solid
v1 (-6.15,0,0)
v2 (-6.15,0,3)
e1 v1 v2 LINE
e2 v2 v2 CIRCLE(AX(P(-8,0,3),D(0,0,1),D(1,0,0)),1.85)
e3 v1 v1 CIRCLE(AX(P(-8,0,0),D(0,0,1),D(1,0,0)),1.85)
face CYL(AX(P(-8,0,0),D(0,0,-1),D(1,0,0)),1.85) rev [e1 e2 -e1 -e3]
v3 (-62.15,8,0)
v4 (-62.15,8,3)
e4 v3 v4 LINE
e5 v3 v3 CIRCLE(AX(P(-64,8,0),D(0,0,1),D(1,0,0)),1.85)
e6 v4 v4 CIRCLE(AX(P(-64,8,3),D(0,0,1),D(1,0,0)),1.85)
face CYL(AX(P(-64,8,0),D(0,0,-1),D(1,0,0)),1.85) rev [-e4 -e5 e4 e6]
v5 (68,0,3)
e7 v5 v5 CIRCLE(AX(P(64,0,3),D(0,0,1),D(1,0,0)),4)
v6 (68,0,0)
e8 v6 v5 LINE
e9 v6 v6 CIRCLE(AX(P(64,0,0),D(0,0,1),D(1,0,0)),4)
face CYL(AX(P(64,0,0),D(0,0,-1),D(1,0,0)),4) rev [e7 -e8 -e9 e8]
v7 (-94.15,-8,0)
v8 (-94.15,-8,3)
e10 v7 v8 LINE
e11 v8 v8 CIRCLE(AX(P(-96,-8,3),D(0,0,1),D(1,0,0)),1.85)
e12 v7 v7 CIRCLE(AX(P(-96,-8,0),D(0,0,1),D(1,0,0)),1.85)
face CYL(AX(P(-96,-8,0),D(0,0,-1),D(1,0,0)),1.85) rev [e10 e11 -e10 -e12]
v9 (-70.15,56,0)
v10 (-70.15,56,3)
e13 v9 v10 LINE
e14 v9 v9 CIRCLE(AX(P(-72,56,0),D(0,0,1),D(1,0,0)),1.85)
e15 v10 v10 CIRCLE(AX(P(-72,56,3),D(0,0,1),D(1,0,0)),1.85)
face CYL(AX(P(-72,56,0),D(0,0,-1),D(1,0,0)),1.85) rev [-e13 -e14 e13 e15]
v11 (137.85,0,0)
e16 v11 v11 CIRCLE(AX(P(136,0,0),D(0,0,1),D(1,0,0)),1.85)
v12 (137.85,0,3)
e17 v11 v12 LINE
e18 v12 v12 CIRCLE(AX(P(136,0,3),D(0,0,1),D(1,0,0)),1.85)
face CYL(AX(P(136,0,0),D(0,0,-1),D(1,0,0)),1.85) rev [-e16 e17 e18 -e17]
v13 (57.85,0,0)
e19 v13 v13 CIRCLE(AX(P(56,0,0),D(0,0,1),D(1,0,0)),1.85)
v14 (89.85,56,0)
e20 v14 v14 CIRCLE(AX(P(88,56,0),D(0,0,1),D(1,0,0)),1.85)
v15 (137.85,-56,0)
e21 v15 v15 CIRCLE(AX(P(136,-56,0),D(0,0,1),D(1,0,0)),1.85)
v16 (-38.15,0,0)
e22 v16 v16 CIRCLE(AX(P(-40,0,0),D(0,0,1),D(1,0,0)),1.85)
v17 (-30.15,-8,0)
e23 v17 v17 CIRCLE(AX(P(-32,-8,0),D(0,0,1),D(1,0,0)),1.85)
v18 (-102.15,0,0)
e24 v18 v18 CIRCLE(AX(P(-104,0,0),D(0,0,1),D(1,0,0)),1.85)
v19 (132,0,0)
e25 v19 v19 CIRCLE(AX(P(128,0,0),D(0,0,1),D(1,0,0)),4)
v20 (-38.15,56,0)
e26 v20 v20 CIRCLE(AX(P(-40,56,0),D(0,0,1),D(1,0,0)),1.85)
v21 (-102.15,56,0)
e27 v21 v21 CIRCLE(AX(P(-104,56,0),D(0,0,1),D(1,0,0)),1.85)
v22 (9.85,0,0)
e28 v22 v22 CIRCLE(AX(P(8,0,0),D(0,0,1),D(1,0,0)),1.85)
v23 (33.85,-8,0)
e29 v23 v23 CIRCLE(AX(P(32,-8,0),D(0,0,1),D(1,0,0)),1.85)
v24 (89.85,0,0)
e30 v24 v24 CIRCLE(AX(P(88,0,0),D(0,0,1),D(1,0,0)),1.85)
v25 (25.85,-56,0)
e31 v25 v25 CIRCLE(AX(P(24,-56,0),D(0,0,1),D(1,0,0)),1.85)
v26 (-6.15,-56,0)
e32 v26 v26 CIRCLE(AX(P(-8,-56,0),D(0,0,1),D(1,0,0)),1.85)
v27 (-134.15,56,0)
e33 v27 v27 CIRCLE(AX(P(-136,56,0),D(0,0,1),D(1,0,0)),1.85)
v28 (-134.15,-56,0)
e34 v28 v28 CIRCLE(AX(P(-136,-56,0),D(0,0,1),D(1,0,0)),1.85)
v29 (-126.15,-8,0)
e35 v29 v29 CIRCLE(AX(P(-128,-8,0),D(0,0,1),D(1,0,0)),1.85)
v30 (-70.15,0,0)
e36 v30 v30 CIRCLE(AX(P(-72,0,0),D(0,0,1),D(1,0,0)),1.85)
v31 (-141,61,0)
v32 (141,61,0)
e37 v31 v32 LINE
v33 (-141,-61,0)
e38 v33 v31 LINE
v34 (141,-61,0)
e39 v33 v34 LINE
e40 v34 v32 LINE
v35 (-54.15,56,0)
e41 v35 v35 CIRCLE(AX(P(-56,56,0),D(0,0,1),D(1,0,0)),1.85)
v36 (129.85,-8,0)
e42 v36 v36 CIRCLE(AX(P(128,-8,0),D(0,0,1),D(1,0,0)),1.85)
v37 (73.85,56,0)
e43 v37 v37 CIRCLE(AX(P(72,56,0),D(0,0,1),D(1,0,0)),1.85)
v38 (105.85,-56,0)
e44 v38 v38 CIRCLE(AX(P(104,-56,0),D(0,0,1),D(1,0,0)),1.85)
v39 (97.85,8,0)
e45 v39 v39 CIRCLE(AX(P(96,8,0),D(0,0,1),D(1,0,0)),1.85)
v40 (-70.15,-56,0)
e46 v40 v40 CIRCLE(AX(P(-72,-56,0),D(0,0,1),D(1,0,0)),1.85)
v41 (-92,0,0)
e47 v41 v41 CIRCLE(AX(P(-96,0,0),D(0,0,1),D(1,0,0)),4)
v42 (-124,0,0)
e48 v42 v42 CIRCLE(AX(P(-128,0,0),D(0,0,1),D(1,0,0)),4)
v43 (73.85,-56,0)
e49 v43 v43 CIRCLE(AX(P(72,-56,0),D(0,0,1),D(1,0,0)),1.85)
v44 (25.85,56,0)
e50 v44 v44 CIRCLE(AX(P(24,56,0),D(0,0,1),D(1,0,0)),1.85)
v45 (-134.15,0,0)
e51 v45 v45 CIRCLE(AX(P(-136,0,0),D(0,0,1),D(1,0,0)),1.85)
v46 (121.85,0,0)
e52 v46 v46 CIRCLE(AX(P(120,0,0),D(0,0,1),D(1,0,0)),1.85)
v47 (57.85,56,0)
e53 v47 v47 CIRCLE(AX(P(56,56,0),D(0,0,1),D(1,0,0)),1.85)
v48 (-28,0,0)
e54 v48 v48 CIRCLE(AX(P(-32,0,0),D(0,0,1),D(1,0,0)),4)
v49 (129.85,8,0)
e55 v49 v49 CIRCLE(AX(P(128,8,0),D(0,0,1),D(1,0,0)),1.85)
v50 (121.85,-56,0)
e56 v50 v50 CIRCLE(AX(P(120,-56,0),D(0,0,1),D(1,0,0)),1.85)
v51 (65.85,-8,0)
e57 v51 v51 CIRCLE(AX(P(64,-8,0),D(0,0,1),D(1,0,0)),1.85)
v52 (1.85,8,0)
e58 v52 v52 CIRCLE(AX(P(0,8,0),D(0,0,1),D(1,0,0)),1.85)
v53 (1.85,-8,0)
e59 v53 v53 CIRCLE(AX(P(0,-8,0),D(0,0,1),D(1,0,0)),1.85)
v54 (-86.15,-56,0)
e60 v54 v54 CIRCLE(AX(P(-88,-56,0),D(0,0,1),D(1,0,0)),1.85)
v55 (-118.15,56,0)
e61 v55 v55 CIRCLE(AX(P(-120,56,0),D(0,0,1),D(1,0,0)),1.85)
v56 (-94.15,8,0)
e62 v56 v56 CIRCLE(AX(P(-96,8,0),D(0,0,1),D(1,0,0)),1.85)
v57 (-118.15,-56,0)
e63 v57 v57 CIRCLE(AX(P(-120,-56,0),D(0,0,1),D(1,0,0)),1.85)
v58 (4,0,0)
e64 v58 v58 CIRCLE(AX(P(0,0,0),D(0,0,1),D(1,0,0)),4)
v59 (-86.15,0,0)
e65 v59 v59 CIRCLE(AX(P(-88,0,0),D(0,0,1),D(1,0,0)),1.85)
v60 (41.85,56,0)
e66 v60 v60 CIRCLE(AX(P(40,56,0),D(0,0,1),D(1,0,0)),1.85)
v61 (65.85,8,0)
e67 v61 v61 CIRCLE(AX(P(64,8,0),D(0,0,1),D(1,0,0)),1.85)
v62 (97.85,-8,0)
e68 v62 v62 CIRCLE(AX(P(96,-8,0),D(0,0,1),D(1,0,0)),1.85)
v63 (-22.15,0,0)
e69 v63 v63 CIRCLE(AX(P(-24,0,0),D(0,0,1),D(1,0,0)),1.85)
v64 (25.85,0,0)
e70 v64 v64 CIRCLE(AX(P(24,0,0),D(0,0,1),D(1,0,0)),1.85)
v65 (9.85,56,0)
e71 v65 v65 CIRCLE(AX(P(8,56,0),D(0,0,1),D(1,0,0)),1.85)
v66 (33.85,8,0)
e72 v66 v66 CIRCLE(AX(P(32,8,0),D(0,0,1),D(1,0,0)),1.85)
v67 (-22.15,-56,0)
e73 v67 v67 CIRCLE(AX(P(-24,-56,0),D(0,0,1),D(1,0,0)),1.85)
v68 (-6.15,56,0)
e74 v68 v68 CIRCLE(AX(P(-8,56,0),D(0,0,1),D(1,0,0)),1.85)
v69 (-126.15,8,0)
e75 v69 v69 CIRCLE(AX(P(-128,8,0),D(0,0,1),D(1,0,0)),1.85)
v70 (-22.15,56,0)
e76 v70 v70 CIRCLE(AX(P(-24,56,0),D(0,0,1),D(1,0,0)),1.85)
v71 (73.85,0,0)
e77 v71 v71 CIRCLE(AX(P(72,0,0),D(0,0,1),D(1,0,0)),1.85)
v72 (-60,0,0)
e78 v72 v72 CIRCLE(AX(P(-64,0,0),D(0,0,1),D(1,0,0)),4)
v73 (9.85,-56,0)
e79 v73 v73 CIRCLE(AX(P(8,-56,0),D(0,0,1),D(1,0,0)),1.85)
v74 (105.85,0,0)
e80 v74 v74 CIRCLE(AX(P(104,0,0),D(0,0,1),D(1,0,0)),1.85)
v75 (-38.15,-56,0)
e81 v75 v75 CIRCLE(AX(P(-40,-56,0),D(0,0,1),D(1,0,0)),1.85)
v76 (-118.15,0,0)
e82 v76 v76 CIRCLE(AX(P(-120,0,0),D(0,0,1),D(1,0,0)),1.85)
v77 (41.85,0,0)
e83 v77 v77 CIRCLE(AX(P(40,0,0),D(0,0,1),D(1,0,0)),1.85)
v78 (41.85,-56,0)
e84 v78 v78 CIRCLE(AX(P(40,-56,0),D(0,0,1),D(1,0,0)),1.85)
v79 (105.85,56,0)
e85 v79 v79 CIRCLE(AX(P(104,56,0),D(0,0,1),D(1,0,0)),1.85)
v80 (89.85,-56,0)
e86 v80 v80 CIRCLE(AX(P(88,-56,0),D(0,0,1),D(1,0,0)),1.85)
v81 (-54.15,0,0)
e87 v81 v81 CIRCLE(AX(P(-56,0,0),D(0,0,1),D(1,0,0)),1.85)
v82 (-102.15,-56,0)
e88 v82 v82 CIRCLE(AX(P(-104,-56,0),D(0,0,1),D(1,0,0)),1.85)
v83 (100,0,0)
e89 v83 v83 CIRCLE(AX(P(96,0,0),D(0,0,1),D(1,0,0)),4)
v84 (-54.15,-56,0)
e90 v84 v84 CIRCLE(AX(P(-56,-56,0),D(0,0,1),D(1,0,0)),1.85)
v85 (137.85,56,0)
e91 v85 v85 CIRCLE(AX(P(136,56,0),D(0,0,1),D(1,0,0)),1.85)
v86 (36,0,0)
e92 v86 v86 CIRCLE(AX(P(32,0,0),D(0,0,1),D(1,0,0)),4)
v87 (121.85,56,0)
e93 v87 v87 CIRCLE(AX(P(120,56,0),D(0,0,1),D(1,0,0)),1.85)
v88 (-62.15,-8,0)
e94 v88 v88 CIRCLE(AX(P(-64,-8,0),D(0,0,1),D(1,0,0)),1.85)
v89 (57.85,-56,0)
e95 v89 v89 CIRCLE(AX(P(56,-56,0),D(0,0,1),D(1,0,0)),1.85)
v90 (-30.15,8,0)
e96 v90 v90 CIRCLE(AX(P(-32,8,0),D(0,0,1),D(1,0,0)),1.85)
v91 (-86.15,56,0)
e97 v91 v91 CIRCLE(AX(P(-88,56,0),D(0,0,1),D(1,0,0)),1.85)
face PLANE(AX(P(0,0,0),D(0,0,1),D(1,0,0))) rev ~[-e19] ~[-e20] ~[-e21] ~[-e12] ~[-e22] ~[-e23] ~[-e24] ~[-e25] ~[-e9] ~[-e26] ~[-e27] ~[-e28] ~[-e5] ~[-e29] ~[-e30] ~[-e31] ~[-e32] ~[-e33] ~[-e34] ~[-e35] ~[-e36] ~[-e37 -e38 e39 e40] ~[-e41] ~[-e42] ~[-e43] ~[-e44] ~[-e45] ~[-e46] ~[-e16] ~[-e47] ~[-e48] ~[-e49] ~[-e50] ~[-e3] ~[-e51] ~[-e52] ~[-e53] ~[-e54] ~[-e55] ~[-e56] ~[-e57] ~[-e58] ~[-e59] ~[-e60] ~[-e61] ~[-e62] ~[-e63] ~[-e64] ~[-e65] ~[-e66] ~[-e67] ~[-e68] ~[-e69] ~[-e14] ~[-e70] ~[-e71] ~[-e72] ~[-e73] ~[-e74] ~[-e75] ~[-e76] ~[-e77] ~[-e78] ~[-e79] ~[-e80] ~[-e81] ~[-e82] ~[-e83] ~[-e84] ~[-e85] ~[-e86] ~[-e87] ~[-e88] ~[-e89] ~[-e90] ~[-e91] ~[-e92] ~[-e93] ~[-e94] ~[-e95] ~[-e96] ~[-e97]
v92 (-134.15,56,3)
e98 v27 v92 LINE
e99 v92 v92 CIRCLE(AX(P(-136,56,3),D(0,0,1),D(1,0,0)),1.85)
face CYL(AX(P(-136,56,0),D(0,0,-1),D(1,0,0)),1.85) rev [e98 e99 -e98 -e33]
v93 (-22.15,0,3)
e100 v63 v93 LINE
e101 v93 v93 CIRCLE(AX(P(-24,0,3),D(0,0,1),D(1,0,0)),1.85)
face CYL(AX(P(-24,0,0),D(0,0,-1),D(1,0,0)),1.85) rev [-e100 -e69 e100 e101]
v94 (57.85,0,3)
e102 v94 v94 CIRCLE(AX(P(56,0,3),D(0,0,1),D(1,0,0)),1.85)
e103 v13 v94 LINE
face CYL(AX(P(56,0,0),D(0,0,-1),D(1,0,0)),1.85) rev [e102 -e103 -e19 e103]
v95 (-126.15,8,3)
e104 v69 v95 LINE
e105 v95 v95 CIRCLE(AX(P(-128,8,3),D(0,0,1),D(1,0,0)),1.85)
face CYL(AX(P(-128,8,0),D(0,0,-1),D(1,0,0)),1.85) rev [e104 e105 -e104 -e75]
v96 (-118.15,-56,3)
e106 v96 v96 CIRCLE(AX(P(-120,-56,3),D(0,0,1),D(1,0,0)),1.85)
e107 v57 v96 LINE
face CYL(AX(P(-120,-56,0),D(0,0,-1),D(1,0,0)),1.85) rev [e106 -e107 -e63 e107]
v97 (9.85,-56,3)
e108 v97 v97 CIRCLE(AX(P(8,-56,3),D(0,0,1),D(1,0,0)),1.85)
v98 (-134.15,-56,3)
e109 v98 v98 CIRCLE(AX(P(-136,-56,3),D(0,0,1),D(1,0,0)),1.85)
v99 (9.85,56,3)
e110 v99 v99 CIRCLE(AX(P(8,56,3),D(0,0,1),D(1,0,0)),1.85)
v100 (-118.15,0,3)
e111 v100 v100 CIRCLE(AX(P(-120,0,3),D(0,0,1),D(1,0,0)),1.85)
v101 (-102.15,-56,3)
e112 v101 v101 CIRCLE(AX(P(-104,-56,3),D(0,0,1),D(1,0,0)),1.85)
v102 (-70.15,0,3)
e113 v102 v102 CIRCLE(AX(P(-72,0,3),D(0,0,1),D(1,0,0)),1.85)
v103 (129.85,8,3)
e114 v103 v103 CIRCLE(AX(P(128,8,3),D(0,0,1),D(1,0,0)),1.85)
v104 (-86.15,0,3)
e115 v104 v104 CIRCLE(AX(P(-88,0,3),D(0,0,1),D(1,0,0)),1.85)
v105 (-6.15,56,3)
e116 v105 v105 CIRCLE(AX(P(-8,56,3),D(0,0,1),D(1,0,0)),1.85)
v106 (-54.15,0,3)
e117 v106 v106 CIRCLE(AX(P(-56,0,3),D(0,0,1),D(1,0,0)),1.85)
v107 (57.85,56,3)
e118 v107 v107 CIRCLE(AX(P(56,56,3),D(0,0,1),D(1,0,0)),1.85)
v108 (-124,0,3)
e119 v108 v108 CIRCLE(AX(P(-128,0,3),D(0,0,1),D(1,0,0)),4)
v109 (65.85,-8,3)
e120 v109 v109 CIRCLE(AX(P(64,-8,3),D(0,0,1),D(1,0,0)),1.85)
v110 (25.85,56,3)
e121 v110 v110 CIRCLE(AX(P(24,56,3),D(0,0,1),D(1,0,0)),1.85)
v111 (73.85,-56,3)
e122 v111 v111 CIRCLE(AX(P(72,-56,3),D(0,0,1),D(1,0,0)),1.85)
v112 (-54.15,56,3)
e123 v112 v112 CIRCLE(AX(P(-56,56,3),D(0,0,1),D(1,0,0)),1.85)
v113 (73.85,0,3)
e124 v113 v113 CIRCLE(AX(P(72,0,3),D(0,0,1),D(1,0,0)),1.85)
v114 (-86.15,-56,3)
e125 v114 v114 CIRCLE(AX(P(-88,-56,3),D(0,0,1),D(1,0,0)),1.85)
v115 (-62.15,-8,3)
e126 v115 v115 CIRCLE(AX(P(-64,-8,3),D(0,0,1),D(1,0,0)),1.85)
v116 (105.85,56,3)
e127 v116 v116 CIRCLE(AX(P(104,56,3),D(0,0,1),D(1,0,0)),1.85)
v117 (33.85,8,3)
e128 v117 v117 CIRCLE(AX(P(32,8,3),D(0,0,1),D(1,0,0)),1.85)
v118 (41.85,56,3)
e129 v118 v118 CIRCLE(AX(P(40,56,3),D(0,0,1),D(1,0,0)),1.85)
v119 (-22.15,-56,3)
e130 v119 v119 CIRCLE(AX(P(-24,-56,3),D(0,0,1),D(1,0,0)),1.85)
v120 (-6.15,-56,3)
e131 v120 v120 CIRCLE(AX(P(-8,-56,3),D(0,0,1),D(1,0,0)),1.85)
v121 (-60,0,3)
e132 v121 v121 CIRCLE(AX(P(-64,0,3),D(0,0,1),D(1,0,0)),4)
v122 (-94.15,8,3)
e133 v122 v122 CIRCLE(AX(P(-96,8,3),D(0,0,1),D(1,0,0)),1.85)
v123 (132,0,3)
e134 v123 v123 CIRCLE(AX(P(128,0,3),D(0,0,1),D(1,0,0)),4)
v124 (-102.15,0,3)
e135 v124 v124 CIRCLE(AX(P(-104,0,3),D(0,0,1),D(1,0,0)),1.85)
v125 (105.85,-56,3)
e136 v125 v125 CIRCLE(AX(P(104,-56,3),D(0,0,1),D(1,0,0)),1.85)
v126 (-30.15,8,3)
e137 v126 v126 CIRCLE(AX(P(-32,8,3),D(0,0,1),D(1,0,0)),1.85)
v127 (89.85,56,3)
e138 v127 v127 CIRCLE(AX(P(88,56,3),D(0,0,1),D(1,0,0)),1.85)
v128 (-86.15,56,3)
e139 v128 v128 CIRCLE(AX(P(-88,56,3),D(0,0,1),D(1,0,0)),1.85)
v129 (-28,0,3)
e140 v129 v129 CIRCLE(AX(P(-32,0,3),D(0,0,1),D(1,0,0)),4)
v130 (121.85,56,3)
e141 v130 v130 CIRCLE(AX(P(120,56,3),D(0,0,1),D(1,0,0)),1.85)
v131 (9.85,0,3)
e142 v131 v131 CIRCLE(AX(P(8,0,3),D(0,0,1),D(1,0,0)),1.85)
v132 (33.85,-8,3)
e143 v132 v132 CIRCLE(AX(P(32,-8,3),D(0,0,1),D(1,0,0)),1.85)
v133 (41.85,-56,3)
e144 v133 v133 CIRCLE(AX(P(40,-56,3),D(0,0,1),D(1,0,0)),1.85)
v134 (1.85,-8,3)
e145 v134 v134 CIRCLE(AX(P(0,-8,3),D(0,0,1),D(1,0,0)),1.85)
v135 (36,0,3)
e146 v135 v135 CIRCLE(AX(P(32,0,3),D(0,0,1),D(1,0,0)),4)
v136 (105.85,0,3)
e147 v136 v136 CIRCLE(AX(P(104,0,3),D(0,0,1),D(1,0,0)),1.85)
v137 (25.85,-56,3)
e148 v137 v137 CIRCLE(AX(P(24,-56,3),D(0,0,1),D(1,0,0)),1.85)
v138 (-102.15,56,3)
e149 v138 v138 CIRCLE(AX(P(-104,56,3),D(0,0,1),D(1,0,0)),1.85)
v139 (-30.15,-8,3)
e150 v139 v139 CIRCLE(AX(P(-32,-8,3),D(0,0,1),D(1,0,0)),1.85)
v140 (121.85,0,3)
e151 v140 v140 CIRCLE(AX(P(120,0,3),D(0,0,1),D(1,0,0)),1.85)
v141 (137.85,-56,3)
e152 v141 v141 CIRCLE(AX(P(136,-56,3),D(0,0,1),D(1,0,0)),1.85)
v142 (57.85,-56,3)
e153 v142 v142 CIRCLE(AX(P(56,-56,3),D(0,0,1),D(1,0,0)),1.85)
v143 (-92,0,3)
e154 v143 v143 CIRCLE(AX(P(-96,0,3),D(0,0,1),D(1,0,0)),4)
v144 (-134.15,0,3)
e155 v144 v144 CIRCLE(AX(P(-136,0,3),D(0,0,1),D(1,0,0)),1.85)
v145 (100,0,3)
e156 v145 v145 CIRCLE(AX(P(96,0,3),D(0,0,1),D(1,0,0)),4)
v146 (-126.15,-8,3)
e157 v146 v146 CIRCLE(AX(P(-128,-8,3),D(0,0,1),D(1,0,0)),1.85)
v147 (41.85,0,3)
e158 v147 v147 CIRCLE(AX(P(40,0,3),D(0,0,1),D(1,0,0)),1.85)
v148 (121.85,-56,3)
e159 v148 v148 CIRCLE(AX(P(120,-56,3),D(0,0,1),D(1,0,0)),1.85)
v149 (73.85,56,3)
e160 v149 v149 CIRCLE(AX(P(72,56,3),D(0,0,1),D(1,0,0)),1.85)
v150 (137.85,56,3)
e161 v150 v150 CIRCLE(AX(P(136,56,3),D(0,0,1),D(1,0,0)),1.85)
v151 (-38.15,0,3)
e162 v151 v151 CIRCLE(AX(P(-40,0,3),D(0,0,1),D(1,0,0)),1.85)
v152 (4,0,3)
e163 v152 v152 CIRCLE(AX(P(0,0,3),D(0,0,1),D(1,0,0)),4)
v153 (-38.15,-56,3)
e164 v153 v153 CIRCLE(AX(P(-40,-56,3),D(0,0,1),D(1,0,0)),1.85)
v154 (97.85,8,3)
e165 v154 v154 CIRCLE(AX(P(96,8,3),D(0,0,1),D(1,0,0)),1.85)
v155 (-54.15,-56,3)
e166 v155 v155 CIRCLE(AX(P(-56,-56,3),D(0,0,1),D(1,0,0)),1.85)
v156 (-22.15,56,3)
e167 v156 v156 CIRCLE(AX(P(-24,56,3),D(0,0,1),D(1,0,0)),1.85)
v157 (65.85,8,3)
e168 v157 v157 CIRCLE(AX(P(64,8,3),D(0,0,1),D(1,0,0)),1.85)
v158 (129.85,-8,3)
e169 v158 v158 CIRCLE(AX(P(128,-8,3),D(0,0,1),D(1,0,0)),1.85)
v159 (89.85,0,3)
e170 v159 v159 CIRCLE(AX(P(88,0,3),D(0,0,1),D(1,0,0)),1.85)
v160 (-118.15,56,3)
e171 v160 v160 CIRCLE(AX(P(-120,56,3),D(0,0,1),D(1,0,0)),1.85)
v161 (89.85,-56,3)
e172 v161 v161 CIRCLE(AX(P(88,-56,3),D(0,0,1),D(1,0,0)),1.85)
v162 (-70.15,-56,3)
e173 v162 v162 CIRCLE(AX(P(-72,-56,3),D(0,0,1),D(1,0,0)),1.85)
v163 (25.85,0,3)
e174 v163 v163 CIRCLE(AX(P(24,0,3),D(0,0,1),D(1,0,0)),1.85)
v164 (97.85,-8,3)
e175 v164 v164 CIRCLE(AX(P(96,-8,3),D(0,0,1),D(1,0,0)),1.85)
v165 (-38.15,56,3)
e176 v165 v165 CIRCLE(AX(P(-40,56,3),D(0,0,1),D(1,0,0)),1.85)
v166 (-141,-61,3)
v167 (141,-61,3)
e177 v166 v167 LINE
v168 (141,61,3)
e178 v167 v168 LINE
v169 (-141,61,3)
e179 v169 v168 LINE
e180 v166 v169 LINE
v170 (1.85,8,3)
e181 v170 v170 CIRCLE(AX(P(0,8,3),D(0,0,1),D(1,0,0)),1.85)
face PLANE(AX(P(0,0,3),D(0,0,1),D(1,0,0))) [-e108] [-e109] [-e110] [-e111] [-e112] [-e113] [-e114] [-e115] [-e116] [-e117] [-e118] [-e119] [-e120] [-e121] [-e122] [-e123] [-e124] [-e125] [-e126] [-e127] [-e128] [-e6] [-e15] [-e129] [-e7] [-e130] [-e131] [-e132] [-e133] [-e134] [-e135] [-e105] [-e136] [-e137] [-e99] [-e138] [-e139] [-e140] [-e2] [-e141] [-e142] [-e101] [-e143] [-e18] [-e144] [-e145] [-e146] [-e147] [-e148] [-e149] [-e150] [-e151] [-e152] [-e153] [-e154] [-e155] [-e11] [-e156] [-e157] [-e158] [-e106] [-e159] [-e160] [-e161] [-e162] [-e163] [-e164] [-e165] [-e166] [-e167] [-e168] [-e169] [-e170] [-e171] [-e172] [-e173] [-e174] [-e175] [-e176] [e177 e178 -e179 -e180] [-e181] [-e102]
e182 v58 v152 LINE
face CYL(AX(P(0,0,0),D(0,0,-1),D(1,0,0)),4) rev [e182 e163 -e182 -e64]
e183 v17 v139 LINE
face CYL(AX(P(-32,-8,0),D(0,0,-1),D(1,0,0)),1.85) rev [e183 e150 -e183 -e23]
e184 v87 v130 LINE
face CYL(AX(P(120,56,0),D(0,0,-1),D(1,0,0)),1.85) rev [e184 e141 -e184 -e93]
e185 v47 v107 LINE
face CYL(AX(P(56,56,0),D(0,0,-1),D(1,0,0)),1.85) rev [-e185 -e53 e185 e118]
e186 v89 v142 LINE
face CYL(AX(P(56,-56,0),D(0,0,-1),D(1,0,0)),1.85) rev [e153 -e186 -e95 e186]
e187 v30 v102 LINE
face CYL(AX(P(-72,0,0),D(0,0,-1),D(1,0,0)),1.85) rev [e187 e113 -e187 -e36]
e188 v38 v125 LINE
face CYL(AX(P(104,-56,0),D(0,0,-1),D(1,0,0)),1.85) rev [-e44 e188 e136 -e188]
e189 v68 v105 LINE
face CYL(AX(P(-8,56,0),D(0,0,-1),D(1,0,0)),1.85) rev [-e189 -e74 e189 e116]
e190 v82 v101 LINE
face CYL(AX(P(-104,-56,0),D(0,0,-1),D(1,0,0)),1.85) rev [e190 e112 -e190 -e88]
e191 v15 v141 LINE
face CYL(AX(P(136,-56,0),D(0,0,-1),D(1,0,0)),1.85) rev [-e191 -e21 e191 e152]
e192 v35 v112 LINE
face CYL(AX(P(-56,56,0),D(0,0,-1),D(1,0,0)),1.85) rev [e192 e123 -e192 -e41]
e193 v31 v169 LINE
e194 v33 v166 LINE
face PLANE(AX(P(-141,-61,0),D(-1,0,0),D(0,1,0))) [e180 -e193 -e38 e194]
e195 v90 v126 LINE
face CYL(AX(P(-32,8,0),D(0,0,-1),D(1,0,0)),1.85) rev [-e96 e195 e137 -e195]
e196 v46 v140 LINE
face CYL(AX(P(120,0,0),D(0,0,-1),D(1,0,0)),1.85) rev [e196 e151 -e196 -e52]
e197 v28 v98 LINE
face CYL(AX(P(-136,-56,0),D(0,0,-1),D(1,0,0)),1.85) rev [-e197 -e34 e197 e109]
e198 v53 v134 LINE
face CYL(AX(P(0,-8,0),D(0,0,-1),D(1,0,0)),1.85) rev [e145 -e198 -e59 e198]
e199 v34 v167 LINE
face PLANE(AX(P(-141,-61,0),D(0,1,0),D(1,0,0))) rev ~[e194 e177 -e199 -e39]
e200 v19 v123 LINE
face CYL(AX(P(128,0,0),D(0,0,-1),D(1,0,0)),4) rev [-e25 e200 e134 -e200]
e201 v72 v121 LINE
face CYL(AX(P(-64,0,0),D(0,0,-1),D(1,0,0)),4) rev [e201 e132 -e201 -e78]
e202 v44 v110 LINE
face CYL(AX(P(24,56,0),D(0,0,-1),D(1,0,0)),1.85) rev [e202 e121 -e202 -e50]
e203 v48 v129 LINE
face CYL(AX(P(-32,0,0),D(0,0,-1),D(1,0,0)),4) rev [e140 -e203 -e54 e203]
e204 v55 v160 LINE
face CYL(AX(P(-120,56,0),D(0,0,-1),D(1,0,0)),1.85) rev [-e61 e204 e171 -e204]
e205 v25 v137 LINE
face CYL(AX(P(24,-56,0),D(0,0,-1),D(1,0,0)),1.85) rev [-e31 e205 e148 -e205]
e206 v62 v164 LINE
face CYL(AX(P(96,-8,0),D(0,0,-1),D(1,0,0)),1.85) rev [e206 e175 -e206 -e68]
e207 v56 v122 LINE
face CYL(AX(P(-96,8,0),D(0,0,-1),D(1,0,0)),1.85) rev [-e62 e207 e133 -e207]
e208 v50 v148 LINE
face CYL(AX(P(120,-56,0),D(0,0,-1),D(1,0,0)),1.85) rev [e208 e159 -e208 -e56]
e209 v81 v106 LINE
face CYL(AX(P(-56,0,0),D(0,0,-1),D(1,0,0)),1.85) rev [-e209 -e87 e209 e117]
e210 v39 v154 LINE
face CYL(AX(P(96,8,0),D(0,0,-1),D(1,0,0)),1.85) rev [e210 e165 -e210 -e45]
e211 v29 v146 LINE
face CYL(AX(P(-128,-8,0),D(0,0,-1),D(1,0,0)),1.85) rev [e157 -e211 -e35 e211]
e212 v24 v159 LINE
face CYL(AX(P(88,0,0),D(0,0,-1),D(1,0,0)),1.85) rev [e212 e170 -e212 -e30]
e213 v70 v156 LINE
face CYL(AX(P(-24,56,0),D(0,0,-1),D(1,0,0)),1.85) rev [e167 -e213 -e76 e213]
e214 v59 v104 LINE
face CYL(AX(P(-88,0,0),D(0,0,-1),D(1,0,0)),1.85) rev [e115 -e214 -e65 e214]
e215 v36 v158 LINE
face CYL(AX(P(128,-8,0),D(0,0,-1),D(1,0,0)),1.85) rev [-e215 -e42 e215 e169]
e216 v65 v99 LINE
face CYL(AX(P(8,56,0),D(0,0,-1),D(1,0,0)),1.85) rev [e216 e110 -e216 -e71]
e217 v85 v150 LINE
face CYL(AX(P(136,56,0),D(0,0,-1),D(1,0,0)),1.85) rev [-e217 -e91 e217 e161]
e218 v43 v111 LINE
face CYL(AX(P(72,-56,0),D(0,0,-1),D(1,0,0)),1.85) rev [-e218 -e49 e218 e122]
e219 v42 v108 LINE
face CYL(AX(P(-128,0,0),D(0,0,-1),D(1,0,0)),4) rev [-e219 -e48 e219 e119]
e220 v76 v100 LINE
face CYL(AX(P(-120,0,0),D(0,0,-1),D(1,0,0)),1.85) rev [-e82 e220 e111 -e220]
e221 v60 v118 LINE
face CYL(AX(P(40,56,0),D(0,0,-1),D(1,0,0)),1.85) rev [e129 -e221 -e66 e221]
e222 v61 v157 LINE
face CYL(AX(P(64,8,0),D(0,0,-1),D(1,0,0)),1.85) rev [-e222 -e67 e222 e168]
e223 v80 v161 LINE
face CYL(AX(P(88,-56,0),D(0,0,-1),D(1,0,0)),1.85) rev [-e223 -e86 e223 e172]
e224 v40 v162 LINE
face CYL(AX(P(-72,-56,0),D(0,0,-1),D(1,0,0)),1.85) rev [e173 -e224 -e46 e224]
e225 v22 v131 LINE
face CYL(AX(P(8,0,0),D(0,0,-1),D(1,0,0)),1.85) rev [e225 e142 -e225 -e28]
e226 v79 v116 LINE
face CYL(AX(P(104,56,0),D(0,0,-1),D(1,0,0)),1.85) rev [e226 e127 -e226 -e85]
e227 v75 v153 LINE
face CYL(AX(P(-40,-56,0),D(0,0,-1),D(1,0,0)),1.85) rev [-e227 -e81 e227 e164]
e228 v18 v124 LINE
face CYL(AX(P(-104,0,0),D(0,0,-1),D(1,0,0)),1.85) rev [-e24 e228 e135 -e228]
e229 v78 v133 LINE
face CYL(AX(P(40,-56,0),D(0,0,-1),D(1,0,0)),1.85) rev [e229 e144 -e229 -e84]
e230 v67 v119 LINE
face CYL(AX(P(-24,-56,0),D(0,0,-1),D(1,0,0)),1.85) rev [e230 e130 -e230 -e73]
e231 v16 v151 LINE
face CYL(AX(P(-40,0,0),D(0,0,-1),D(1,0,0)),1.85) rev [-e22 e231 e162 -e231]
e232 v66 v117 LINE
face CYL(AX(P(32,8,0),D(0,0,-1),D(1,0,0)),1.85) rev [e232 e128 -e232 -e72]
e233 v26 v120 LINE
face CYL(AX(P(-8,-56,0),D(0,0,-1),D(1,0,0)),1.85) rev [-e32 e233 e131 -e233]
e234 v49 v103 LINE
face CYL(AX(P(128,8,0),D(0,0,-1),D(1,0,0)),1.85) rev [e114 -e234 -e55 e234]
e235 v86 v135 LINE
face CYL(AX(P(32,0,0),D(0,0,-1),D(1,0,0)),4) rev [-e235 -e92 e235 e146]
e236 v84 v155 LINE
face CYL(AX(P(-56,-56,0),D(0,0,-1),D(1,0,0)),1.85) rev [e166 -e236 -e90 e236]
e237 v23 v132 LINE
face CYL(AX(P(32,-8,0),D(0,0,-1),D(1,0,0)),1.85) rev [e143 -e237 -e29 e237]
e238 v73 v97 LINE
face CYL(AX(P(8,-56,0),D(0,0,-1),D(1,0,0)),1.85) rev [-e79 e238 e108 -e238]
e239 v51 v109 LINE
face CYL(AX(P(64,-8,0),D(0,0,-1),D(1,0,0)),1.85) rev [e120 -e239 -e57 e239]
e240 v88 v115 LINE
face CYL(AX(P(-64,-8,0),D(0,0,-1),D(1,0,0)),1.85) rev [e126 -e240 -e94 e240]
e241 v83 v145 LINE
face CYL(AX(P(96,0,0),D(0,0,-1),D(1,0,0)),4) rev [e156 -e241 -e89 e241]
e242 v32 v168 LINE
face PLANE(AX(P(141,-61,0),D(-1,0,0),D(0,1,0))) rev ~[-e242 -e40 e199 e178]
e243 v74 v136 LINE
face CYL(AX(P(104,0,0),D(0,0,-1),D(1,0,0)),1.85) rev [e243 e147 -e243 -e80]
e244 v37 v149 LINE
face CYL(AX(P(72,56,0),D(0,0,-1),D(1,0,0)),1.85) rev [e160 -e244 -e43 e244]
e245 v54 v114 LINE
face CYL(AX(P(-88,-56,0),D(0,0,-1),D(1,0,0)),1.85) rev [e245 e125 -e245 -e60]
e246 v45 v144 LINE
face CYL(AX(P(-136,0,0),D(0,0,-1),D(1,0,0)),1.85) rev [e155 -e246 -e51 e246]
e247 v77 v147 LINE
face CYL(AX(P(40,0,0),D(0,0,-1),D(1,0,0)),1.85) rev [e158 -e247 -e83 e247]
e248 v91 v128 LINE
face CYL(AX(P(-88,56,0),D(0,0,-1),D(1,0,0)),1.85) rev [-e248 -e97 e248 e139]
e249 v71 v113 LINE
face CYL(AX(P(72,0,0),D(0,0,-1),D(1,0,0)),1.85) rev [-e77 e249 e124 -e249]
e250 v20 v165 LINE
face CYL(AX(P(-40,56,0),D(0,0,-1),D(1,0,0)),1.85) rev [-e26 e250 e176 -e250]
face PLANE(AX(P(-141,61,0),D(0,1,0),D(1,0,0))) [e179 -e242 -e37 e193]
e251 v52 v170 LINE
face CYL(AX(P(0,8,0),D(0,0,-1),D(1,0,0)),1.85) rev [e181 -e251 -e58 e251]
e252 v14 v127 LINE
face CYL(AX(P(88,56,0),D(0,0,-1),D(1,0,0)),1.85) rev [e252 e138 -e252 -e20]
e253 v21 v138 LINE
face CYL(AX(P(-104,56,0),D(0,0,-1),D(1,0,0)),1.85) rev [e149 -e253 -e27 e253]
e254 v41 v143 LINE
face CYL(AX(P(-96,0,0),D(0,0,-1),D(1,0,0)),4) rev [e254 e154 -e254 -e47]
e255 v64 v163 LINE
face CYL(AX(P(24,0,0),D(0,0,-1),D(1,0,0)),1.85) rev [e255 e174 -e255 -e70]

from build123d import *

# Parameters (mm, degrees)
F0_W     = 282
F0_H     = 122
F0_R     = 1.85
F0_R_2   = 4
F1_DEPTH = 3


with BuildPart() as f1:
    # F0 (on Top) → F1 (new body)
    with BuildSketch(Plane.XY):
        Rectangle(F0_W, F0_H)
        with Locations((-136, -56)):
            Circle(F0_R, mode=Mode.SUBTRACT)
        with Locations((-120, -56)):
            Circle(F0_R, mode=Mode.SUBTRACT)
        with Locations((-104, -56)):
            Circle(F0_R, mode=Mode.SUBTRACT)
        with Locations((-88, -56)):
            Circle(F0_R, mode=Mode.SUBTRACT)
        with Locations((-72, -56)):
            Circle(F0_R, mode=Mode.SUBTRACT)
        with Locations((-56, -56)):
            Circle(F0_R, mode=Mode.SUBTRACT)
        with Locations((-40, -56)):
            Circle(F0_R, mode=Mode.SUBTRACT)
        with Locations((-24, -56)):
            Circle(F0_R, mode=Mode.SUBTRACT)
        with Locations((-8, -56)):
            Circle(F0_R, mode=Mode.SUBTRACT)
        with Locations((-128, -8)):
            Circle(F0_R, mode=Mode.SUBTRACT)
        with Locations((-96, -8)):
            Circle(F0_R, mode=Mode.SUBTRACT)
        with Locations((-64, -8)):
            Circle(F0_R, mode=Mode.SUBTRACT)
        with Locations((-32, -8)):
            Circle(F0_R, mode=Mode.SUBTRACT)
        with Locations((8, -56)):
            Circle(F0_R, mode=Mode.SUBTRACT)
        with Locations((24, -56)):
            Circle(F0_R, mode=Mode.SUBTRACT)
        with Locations((40, -56)):
            Circle(F0_R, mode=Mode.SUBTRACT)
        with Locations((56, -56)):
            Circle(F0_R, mode=Mode.SUBTRACT)
        with Locations((72, -56)):
            Circle(F0_R, mode=Mode.SUBTRACT)
        with Locations((88, -56)):
            Circle(F0_R, mode=Mode.SUBTRACT)
        with Locations((104, -56)):
            Circle(F0_R, mode=Mode.SUBTRACT)
        with Locations((120, -56)):
            Circle(F0_R, mode=Mode.SUBTRACT)
        with Locations((136, -56)):
            Circle(F0_R, mode=Mode.SUBTRACT)
        with Locations((0, -8)):
            Circle(F0_R, mode=Mode.SUBTRACT)
        with Locations((32, -8)):
            Circle(F0_R, mode=Mode.SUBTRACT)
        with Locations((64, -8)):
            Circle(F0_R, mode=Mode.SUBTRACT)
        with Locations((96, -8)):
            Circle(F0_R, mode=Mode.SUBTRACT)
        with Locations((128, -8)):
            Circle(F0_R, mode=Mode.SUBTRACT)
        with Locations((-136, 0)):
            Circle(F0_R, mode=Mode.SUBTRACT)
        with Locations((-128, 0)):
            Circle(F0_R_2, mode=Mode.SUBTRACT)
        with Locations((-120, 0)):
            Circle(F0_R, mode=Mode.SUBTRACT)
        with Locations((-128, 8)):
            Circle(F0_R, mode=Mode.SUBTRACT)
        with Locations((-104, 0)):
            Circle(F0_R, mode=Mode.SUBTRACT)
        with Locations((-96, 0)):
            Circle(F0_R_2, mode=Mode.SUBTRACT)
        with Locations((-88, 0)):
            Circle(F0_R, mode=Mode.SUBTRACT)
        with Locations((-72, 0)):
            Circle(F0_R, mode=Mode.SUBTRACT)
        with Locations((-96, 8)):
            Circle(F0_R, mode=Mode.SUBTRACT)
        with Locations((-64, 0)):
            Circle(F0_R_2, mode=Mode.SUBTRACT)
        with Locations((-56, 0)):
            Circle(F0_R, mode=Mode.SUBTRACT)
        with Locations((-40, 0)):
            Circle(F0_R, mode=Mode.SUBTRACT)
        with Locations((-64, 8)):
            Circle(F0_R, mode=Mode.SUBTRACT)
        with Locations((-32, 0)):
            Circle(F0_R_2, mode=Mode.SUBTRACT)
        with Locations((-24, 0)):
            Circle(F0_R, mode=Mode.SUBTRACT)
        with Locations((-8, 0)):
            Circle(F0_R, mode=Mode.SUBTRACT)
        with Locations((-32, 8)):
            Circle(F0_R, mode=Mode.SUBTRACT)
        with Locations((-136, 56)):
            Circle(F0_R, mode=Mode.SUBTRACT)
        with Locations((-120, 56)):
            Circle(F0_R, mode=Mode.SUBTRACT)
        with Locations((-104, 56)):
            Circle(F0_R, mode=Mode.SUBTRACT)
        with Locations((-88, 56)):
            Circle(F0_R, mode=Mode.SUBTRACT)
        with Locations((-72, 56)):
            Circle(F0_R, mode=Mode.SUBTRACT)
        with Locations((-56, 56)):
            Circle(F0_R, mode=Mode.SUBTRACT)
        with Locations((-40, 56)):
            Circle(F0_R, mode=Mode.SUBTRACT)
        with Locations((-24, 56)):
            Circle(F0_R, mode=Mode.SUBTRACT)
        with Locations((-8, 56)):
            Circle(F0_R, mode=Mode.SUBTRACT)
        Circle(F0_R_2, mode=Mode.SUBTRACT)
        with Locations((8, 0)):
            Circle(F0_R, mode=Mode.SUBTRACT)
        with Locations((24, 0)):
            Circle(F0_R, mode=Mode.SUBTRACT)
        with Locations((32, 0)):
            Circle(F0_R_2, mode=Mode.SUBTRACT)
        with Locations((0, 8)):
            Circle(F0_R, mode=Mode.SUBTRACT)
        with Locations((32, 8)):
            Circle(F0_R, mode=Mode.SUBTRACT)
        with Locations((40, 0)):
            Circle(F0_R, mode=Mode.SUBTRACT)
        with Locations((56, 0)):
            Circle(F0_R, mode=Mode.SUBTRACT)
        with Locations((64, 0)):
            Circle(F0_R_2, mode=Mode.SUBTRACT)
        with Locations((64, 8)):
            Circle(F0_R, mode=Mode.SUBTRACT)
        with Locations((72, 0)):
            Circle(F0_R, mode=Mode.SUBTRACT)
        with Locations((88, 0)):
            Circle(F0_R, mode=Mode.SUBTRACT)
        with Locations((96, 0)):
            Circle(F0_R_2, mode=Mode.SUBTRACT)
        with Locations((104, 0)):
            Circle(F0_R, mode=Mode.SUBTRACT)
        with Locations((96, 8)):
            Circle(F0_R, mode=Mode.SUBTRACT)
        with Locations((120, 0)):
            Circle(F0_R, mode=Mode.SUBTRACT)
        with Locations((128, 0)):
            Circle(F0_R_2, mode=Mode.SUBTRACT)
        with Locations((136, 0)):
            Circle(F0_R, mode=Mode.SUBTRACT)
        with Locations((128, 8)):
            Circle(F0_R, mode=Mode.SUBTRACT)
        with Locations((8, 56)):
            Circle(F0_R, mode=Mode.SUBTRACT)
        with Locations((24, 56)):
            Circle(F0_R, mode=Mode.SUBTRACT)
        with Locations((40, 56)):
            Circle(F0_R, mode=Mode.SUBTRACT)
        with Locations((56, 56)):
            Circle(F0_R, mode=Mode.SUBTRACT)
        with Locations((72, 56)):
            Circle(F0_R, mode=Mode.SUBTRACT)
        with Locations((88, 56)):
            Circle(F0_R, mode=Mode.SUBTRACT)
        with Locations((104, 56)):
            Circle(F0_R, mode=Mode.SUBTRACT)
        with Locations((120, 56)):
            Circle(F0_R, mode=Mode.SUBTRACT)
        with Locations((136, 56)):
            Circle(F0_R, mode=Mode.SUBTRACT)
    extrude(amount=F1_DEPTH)


solid = f1.part
